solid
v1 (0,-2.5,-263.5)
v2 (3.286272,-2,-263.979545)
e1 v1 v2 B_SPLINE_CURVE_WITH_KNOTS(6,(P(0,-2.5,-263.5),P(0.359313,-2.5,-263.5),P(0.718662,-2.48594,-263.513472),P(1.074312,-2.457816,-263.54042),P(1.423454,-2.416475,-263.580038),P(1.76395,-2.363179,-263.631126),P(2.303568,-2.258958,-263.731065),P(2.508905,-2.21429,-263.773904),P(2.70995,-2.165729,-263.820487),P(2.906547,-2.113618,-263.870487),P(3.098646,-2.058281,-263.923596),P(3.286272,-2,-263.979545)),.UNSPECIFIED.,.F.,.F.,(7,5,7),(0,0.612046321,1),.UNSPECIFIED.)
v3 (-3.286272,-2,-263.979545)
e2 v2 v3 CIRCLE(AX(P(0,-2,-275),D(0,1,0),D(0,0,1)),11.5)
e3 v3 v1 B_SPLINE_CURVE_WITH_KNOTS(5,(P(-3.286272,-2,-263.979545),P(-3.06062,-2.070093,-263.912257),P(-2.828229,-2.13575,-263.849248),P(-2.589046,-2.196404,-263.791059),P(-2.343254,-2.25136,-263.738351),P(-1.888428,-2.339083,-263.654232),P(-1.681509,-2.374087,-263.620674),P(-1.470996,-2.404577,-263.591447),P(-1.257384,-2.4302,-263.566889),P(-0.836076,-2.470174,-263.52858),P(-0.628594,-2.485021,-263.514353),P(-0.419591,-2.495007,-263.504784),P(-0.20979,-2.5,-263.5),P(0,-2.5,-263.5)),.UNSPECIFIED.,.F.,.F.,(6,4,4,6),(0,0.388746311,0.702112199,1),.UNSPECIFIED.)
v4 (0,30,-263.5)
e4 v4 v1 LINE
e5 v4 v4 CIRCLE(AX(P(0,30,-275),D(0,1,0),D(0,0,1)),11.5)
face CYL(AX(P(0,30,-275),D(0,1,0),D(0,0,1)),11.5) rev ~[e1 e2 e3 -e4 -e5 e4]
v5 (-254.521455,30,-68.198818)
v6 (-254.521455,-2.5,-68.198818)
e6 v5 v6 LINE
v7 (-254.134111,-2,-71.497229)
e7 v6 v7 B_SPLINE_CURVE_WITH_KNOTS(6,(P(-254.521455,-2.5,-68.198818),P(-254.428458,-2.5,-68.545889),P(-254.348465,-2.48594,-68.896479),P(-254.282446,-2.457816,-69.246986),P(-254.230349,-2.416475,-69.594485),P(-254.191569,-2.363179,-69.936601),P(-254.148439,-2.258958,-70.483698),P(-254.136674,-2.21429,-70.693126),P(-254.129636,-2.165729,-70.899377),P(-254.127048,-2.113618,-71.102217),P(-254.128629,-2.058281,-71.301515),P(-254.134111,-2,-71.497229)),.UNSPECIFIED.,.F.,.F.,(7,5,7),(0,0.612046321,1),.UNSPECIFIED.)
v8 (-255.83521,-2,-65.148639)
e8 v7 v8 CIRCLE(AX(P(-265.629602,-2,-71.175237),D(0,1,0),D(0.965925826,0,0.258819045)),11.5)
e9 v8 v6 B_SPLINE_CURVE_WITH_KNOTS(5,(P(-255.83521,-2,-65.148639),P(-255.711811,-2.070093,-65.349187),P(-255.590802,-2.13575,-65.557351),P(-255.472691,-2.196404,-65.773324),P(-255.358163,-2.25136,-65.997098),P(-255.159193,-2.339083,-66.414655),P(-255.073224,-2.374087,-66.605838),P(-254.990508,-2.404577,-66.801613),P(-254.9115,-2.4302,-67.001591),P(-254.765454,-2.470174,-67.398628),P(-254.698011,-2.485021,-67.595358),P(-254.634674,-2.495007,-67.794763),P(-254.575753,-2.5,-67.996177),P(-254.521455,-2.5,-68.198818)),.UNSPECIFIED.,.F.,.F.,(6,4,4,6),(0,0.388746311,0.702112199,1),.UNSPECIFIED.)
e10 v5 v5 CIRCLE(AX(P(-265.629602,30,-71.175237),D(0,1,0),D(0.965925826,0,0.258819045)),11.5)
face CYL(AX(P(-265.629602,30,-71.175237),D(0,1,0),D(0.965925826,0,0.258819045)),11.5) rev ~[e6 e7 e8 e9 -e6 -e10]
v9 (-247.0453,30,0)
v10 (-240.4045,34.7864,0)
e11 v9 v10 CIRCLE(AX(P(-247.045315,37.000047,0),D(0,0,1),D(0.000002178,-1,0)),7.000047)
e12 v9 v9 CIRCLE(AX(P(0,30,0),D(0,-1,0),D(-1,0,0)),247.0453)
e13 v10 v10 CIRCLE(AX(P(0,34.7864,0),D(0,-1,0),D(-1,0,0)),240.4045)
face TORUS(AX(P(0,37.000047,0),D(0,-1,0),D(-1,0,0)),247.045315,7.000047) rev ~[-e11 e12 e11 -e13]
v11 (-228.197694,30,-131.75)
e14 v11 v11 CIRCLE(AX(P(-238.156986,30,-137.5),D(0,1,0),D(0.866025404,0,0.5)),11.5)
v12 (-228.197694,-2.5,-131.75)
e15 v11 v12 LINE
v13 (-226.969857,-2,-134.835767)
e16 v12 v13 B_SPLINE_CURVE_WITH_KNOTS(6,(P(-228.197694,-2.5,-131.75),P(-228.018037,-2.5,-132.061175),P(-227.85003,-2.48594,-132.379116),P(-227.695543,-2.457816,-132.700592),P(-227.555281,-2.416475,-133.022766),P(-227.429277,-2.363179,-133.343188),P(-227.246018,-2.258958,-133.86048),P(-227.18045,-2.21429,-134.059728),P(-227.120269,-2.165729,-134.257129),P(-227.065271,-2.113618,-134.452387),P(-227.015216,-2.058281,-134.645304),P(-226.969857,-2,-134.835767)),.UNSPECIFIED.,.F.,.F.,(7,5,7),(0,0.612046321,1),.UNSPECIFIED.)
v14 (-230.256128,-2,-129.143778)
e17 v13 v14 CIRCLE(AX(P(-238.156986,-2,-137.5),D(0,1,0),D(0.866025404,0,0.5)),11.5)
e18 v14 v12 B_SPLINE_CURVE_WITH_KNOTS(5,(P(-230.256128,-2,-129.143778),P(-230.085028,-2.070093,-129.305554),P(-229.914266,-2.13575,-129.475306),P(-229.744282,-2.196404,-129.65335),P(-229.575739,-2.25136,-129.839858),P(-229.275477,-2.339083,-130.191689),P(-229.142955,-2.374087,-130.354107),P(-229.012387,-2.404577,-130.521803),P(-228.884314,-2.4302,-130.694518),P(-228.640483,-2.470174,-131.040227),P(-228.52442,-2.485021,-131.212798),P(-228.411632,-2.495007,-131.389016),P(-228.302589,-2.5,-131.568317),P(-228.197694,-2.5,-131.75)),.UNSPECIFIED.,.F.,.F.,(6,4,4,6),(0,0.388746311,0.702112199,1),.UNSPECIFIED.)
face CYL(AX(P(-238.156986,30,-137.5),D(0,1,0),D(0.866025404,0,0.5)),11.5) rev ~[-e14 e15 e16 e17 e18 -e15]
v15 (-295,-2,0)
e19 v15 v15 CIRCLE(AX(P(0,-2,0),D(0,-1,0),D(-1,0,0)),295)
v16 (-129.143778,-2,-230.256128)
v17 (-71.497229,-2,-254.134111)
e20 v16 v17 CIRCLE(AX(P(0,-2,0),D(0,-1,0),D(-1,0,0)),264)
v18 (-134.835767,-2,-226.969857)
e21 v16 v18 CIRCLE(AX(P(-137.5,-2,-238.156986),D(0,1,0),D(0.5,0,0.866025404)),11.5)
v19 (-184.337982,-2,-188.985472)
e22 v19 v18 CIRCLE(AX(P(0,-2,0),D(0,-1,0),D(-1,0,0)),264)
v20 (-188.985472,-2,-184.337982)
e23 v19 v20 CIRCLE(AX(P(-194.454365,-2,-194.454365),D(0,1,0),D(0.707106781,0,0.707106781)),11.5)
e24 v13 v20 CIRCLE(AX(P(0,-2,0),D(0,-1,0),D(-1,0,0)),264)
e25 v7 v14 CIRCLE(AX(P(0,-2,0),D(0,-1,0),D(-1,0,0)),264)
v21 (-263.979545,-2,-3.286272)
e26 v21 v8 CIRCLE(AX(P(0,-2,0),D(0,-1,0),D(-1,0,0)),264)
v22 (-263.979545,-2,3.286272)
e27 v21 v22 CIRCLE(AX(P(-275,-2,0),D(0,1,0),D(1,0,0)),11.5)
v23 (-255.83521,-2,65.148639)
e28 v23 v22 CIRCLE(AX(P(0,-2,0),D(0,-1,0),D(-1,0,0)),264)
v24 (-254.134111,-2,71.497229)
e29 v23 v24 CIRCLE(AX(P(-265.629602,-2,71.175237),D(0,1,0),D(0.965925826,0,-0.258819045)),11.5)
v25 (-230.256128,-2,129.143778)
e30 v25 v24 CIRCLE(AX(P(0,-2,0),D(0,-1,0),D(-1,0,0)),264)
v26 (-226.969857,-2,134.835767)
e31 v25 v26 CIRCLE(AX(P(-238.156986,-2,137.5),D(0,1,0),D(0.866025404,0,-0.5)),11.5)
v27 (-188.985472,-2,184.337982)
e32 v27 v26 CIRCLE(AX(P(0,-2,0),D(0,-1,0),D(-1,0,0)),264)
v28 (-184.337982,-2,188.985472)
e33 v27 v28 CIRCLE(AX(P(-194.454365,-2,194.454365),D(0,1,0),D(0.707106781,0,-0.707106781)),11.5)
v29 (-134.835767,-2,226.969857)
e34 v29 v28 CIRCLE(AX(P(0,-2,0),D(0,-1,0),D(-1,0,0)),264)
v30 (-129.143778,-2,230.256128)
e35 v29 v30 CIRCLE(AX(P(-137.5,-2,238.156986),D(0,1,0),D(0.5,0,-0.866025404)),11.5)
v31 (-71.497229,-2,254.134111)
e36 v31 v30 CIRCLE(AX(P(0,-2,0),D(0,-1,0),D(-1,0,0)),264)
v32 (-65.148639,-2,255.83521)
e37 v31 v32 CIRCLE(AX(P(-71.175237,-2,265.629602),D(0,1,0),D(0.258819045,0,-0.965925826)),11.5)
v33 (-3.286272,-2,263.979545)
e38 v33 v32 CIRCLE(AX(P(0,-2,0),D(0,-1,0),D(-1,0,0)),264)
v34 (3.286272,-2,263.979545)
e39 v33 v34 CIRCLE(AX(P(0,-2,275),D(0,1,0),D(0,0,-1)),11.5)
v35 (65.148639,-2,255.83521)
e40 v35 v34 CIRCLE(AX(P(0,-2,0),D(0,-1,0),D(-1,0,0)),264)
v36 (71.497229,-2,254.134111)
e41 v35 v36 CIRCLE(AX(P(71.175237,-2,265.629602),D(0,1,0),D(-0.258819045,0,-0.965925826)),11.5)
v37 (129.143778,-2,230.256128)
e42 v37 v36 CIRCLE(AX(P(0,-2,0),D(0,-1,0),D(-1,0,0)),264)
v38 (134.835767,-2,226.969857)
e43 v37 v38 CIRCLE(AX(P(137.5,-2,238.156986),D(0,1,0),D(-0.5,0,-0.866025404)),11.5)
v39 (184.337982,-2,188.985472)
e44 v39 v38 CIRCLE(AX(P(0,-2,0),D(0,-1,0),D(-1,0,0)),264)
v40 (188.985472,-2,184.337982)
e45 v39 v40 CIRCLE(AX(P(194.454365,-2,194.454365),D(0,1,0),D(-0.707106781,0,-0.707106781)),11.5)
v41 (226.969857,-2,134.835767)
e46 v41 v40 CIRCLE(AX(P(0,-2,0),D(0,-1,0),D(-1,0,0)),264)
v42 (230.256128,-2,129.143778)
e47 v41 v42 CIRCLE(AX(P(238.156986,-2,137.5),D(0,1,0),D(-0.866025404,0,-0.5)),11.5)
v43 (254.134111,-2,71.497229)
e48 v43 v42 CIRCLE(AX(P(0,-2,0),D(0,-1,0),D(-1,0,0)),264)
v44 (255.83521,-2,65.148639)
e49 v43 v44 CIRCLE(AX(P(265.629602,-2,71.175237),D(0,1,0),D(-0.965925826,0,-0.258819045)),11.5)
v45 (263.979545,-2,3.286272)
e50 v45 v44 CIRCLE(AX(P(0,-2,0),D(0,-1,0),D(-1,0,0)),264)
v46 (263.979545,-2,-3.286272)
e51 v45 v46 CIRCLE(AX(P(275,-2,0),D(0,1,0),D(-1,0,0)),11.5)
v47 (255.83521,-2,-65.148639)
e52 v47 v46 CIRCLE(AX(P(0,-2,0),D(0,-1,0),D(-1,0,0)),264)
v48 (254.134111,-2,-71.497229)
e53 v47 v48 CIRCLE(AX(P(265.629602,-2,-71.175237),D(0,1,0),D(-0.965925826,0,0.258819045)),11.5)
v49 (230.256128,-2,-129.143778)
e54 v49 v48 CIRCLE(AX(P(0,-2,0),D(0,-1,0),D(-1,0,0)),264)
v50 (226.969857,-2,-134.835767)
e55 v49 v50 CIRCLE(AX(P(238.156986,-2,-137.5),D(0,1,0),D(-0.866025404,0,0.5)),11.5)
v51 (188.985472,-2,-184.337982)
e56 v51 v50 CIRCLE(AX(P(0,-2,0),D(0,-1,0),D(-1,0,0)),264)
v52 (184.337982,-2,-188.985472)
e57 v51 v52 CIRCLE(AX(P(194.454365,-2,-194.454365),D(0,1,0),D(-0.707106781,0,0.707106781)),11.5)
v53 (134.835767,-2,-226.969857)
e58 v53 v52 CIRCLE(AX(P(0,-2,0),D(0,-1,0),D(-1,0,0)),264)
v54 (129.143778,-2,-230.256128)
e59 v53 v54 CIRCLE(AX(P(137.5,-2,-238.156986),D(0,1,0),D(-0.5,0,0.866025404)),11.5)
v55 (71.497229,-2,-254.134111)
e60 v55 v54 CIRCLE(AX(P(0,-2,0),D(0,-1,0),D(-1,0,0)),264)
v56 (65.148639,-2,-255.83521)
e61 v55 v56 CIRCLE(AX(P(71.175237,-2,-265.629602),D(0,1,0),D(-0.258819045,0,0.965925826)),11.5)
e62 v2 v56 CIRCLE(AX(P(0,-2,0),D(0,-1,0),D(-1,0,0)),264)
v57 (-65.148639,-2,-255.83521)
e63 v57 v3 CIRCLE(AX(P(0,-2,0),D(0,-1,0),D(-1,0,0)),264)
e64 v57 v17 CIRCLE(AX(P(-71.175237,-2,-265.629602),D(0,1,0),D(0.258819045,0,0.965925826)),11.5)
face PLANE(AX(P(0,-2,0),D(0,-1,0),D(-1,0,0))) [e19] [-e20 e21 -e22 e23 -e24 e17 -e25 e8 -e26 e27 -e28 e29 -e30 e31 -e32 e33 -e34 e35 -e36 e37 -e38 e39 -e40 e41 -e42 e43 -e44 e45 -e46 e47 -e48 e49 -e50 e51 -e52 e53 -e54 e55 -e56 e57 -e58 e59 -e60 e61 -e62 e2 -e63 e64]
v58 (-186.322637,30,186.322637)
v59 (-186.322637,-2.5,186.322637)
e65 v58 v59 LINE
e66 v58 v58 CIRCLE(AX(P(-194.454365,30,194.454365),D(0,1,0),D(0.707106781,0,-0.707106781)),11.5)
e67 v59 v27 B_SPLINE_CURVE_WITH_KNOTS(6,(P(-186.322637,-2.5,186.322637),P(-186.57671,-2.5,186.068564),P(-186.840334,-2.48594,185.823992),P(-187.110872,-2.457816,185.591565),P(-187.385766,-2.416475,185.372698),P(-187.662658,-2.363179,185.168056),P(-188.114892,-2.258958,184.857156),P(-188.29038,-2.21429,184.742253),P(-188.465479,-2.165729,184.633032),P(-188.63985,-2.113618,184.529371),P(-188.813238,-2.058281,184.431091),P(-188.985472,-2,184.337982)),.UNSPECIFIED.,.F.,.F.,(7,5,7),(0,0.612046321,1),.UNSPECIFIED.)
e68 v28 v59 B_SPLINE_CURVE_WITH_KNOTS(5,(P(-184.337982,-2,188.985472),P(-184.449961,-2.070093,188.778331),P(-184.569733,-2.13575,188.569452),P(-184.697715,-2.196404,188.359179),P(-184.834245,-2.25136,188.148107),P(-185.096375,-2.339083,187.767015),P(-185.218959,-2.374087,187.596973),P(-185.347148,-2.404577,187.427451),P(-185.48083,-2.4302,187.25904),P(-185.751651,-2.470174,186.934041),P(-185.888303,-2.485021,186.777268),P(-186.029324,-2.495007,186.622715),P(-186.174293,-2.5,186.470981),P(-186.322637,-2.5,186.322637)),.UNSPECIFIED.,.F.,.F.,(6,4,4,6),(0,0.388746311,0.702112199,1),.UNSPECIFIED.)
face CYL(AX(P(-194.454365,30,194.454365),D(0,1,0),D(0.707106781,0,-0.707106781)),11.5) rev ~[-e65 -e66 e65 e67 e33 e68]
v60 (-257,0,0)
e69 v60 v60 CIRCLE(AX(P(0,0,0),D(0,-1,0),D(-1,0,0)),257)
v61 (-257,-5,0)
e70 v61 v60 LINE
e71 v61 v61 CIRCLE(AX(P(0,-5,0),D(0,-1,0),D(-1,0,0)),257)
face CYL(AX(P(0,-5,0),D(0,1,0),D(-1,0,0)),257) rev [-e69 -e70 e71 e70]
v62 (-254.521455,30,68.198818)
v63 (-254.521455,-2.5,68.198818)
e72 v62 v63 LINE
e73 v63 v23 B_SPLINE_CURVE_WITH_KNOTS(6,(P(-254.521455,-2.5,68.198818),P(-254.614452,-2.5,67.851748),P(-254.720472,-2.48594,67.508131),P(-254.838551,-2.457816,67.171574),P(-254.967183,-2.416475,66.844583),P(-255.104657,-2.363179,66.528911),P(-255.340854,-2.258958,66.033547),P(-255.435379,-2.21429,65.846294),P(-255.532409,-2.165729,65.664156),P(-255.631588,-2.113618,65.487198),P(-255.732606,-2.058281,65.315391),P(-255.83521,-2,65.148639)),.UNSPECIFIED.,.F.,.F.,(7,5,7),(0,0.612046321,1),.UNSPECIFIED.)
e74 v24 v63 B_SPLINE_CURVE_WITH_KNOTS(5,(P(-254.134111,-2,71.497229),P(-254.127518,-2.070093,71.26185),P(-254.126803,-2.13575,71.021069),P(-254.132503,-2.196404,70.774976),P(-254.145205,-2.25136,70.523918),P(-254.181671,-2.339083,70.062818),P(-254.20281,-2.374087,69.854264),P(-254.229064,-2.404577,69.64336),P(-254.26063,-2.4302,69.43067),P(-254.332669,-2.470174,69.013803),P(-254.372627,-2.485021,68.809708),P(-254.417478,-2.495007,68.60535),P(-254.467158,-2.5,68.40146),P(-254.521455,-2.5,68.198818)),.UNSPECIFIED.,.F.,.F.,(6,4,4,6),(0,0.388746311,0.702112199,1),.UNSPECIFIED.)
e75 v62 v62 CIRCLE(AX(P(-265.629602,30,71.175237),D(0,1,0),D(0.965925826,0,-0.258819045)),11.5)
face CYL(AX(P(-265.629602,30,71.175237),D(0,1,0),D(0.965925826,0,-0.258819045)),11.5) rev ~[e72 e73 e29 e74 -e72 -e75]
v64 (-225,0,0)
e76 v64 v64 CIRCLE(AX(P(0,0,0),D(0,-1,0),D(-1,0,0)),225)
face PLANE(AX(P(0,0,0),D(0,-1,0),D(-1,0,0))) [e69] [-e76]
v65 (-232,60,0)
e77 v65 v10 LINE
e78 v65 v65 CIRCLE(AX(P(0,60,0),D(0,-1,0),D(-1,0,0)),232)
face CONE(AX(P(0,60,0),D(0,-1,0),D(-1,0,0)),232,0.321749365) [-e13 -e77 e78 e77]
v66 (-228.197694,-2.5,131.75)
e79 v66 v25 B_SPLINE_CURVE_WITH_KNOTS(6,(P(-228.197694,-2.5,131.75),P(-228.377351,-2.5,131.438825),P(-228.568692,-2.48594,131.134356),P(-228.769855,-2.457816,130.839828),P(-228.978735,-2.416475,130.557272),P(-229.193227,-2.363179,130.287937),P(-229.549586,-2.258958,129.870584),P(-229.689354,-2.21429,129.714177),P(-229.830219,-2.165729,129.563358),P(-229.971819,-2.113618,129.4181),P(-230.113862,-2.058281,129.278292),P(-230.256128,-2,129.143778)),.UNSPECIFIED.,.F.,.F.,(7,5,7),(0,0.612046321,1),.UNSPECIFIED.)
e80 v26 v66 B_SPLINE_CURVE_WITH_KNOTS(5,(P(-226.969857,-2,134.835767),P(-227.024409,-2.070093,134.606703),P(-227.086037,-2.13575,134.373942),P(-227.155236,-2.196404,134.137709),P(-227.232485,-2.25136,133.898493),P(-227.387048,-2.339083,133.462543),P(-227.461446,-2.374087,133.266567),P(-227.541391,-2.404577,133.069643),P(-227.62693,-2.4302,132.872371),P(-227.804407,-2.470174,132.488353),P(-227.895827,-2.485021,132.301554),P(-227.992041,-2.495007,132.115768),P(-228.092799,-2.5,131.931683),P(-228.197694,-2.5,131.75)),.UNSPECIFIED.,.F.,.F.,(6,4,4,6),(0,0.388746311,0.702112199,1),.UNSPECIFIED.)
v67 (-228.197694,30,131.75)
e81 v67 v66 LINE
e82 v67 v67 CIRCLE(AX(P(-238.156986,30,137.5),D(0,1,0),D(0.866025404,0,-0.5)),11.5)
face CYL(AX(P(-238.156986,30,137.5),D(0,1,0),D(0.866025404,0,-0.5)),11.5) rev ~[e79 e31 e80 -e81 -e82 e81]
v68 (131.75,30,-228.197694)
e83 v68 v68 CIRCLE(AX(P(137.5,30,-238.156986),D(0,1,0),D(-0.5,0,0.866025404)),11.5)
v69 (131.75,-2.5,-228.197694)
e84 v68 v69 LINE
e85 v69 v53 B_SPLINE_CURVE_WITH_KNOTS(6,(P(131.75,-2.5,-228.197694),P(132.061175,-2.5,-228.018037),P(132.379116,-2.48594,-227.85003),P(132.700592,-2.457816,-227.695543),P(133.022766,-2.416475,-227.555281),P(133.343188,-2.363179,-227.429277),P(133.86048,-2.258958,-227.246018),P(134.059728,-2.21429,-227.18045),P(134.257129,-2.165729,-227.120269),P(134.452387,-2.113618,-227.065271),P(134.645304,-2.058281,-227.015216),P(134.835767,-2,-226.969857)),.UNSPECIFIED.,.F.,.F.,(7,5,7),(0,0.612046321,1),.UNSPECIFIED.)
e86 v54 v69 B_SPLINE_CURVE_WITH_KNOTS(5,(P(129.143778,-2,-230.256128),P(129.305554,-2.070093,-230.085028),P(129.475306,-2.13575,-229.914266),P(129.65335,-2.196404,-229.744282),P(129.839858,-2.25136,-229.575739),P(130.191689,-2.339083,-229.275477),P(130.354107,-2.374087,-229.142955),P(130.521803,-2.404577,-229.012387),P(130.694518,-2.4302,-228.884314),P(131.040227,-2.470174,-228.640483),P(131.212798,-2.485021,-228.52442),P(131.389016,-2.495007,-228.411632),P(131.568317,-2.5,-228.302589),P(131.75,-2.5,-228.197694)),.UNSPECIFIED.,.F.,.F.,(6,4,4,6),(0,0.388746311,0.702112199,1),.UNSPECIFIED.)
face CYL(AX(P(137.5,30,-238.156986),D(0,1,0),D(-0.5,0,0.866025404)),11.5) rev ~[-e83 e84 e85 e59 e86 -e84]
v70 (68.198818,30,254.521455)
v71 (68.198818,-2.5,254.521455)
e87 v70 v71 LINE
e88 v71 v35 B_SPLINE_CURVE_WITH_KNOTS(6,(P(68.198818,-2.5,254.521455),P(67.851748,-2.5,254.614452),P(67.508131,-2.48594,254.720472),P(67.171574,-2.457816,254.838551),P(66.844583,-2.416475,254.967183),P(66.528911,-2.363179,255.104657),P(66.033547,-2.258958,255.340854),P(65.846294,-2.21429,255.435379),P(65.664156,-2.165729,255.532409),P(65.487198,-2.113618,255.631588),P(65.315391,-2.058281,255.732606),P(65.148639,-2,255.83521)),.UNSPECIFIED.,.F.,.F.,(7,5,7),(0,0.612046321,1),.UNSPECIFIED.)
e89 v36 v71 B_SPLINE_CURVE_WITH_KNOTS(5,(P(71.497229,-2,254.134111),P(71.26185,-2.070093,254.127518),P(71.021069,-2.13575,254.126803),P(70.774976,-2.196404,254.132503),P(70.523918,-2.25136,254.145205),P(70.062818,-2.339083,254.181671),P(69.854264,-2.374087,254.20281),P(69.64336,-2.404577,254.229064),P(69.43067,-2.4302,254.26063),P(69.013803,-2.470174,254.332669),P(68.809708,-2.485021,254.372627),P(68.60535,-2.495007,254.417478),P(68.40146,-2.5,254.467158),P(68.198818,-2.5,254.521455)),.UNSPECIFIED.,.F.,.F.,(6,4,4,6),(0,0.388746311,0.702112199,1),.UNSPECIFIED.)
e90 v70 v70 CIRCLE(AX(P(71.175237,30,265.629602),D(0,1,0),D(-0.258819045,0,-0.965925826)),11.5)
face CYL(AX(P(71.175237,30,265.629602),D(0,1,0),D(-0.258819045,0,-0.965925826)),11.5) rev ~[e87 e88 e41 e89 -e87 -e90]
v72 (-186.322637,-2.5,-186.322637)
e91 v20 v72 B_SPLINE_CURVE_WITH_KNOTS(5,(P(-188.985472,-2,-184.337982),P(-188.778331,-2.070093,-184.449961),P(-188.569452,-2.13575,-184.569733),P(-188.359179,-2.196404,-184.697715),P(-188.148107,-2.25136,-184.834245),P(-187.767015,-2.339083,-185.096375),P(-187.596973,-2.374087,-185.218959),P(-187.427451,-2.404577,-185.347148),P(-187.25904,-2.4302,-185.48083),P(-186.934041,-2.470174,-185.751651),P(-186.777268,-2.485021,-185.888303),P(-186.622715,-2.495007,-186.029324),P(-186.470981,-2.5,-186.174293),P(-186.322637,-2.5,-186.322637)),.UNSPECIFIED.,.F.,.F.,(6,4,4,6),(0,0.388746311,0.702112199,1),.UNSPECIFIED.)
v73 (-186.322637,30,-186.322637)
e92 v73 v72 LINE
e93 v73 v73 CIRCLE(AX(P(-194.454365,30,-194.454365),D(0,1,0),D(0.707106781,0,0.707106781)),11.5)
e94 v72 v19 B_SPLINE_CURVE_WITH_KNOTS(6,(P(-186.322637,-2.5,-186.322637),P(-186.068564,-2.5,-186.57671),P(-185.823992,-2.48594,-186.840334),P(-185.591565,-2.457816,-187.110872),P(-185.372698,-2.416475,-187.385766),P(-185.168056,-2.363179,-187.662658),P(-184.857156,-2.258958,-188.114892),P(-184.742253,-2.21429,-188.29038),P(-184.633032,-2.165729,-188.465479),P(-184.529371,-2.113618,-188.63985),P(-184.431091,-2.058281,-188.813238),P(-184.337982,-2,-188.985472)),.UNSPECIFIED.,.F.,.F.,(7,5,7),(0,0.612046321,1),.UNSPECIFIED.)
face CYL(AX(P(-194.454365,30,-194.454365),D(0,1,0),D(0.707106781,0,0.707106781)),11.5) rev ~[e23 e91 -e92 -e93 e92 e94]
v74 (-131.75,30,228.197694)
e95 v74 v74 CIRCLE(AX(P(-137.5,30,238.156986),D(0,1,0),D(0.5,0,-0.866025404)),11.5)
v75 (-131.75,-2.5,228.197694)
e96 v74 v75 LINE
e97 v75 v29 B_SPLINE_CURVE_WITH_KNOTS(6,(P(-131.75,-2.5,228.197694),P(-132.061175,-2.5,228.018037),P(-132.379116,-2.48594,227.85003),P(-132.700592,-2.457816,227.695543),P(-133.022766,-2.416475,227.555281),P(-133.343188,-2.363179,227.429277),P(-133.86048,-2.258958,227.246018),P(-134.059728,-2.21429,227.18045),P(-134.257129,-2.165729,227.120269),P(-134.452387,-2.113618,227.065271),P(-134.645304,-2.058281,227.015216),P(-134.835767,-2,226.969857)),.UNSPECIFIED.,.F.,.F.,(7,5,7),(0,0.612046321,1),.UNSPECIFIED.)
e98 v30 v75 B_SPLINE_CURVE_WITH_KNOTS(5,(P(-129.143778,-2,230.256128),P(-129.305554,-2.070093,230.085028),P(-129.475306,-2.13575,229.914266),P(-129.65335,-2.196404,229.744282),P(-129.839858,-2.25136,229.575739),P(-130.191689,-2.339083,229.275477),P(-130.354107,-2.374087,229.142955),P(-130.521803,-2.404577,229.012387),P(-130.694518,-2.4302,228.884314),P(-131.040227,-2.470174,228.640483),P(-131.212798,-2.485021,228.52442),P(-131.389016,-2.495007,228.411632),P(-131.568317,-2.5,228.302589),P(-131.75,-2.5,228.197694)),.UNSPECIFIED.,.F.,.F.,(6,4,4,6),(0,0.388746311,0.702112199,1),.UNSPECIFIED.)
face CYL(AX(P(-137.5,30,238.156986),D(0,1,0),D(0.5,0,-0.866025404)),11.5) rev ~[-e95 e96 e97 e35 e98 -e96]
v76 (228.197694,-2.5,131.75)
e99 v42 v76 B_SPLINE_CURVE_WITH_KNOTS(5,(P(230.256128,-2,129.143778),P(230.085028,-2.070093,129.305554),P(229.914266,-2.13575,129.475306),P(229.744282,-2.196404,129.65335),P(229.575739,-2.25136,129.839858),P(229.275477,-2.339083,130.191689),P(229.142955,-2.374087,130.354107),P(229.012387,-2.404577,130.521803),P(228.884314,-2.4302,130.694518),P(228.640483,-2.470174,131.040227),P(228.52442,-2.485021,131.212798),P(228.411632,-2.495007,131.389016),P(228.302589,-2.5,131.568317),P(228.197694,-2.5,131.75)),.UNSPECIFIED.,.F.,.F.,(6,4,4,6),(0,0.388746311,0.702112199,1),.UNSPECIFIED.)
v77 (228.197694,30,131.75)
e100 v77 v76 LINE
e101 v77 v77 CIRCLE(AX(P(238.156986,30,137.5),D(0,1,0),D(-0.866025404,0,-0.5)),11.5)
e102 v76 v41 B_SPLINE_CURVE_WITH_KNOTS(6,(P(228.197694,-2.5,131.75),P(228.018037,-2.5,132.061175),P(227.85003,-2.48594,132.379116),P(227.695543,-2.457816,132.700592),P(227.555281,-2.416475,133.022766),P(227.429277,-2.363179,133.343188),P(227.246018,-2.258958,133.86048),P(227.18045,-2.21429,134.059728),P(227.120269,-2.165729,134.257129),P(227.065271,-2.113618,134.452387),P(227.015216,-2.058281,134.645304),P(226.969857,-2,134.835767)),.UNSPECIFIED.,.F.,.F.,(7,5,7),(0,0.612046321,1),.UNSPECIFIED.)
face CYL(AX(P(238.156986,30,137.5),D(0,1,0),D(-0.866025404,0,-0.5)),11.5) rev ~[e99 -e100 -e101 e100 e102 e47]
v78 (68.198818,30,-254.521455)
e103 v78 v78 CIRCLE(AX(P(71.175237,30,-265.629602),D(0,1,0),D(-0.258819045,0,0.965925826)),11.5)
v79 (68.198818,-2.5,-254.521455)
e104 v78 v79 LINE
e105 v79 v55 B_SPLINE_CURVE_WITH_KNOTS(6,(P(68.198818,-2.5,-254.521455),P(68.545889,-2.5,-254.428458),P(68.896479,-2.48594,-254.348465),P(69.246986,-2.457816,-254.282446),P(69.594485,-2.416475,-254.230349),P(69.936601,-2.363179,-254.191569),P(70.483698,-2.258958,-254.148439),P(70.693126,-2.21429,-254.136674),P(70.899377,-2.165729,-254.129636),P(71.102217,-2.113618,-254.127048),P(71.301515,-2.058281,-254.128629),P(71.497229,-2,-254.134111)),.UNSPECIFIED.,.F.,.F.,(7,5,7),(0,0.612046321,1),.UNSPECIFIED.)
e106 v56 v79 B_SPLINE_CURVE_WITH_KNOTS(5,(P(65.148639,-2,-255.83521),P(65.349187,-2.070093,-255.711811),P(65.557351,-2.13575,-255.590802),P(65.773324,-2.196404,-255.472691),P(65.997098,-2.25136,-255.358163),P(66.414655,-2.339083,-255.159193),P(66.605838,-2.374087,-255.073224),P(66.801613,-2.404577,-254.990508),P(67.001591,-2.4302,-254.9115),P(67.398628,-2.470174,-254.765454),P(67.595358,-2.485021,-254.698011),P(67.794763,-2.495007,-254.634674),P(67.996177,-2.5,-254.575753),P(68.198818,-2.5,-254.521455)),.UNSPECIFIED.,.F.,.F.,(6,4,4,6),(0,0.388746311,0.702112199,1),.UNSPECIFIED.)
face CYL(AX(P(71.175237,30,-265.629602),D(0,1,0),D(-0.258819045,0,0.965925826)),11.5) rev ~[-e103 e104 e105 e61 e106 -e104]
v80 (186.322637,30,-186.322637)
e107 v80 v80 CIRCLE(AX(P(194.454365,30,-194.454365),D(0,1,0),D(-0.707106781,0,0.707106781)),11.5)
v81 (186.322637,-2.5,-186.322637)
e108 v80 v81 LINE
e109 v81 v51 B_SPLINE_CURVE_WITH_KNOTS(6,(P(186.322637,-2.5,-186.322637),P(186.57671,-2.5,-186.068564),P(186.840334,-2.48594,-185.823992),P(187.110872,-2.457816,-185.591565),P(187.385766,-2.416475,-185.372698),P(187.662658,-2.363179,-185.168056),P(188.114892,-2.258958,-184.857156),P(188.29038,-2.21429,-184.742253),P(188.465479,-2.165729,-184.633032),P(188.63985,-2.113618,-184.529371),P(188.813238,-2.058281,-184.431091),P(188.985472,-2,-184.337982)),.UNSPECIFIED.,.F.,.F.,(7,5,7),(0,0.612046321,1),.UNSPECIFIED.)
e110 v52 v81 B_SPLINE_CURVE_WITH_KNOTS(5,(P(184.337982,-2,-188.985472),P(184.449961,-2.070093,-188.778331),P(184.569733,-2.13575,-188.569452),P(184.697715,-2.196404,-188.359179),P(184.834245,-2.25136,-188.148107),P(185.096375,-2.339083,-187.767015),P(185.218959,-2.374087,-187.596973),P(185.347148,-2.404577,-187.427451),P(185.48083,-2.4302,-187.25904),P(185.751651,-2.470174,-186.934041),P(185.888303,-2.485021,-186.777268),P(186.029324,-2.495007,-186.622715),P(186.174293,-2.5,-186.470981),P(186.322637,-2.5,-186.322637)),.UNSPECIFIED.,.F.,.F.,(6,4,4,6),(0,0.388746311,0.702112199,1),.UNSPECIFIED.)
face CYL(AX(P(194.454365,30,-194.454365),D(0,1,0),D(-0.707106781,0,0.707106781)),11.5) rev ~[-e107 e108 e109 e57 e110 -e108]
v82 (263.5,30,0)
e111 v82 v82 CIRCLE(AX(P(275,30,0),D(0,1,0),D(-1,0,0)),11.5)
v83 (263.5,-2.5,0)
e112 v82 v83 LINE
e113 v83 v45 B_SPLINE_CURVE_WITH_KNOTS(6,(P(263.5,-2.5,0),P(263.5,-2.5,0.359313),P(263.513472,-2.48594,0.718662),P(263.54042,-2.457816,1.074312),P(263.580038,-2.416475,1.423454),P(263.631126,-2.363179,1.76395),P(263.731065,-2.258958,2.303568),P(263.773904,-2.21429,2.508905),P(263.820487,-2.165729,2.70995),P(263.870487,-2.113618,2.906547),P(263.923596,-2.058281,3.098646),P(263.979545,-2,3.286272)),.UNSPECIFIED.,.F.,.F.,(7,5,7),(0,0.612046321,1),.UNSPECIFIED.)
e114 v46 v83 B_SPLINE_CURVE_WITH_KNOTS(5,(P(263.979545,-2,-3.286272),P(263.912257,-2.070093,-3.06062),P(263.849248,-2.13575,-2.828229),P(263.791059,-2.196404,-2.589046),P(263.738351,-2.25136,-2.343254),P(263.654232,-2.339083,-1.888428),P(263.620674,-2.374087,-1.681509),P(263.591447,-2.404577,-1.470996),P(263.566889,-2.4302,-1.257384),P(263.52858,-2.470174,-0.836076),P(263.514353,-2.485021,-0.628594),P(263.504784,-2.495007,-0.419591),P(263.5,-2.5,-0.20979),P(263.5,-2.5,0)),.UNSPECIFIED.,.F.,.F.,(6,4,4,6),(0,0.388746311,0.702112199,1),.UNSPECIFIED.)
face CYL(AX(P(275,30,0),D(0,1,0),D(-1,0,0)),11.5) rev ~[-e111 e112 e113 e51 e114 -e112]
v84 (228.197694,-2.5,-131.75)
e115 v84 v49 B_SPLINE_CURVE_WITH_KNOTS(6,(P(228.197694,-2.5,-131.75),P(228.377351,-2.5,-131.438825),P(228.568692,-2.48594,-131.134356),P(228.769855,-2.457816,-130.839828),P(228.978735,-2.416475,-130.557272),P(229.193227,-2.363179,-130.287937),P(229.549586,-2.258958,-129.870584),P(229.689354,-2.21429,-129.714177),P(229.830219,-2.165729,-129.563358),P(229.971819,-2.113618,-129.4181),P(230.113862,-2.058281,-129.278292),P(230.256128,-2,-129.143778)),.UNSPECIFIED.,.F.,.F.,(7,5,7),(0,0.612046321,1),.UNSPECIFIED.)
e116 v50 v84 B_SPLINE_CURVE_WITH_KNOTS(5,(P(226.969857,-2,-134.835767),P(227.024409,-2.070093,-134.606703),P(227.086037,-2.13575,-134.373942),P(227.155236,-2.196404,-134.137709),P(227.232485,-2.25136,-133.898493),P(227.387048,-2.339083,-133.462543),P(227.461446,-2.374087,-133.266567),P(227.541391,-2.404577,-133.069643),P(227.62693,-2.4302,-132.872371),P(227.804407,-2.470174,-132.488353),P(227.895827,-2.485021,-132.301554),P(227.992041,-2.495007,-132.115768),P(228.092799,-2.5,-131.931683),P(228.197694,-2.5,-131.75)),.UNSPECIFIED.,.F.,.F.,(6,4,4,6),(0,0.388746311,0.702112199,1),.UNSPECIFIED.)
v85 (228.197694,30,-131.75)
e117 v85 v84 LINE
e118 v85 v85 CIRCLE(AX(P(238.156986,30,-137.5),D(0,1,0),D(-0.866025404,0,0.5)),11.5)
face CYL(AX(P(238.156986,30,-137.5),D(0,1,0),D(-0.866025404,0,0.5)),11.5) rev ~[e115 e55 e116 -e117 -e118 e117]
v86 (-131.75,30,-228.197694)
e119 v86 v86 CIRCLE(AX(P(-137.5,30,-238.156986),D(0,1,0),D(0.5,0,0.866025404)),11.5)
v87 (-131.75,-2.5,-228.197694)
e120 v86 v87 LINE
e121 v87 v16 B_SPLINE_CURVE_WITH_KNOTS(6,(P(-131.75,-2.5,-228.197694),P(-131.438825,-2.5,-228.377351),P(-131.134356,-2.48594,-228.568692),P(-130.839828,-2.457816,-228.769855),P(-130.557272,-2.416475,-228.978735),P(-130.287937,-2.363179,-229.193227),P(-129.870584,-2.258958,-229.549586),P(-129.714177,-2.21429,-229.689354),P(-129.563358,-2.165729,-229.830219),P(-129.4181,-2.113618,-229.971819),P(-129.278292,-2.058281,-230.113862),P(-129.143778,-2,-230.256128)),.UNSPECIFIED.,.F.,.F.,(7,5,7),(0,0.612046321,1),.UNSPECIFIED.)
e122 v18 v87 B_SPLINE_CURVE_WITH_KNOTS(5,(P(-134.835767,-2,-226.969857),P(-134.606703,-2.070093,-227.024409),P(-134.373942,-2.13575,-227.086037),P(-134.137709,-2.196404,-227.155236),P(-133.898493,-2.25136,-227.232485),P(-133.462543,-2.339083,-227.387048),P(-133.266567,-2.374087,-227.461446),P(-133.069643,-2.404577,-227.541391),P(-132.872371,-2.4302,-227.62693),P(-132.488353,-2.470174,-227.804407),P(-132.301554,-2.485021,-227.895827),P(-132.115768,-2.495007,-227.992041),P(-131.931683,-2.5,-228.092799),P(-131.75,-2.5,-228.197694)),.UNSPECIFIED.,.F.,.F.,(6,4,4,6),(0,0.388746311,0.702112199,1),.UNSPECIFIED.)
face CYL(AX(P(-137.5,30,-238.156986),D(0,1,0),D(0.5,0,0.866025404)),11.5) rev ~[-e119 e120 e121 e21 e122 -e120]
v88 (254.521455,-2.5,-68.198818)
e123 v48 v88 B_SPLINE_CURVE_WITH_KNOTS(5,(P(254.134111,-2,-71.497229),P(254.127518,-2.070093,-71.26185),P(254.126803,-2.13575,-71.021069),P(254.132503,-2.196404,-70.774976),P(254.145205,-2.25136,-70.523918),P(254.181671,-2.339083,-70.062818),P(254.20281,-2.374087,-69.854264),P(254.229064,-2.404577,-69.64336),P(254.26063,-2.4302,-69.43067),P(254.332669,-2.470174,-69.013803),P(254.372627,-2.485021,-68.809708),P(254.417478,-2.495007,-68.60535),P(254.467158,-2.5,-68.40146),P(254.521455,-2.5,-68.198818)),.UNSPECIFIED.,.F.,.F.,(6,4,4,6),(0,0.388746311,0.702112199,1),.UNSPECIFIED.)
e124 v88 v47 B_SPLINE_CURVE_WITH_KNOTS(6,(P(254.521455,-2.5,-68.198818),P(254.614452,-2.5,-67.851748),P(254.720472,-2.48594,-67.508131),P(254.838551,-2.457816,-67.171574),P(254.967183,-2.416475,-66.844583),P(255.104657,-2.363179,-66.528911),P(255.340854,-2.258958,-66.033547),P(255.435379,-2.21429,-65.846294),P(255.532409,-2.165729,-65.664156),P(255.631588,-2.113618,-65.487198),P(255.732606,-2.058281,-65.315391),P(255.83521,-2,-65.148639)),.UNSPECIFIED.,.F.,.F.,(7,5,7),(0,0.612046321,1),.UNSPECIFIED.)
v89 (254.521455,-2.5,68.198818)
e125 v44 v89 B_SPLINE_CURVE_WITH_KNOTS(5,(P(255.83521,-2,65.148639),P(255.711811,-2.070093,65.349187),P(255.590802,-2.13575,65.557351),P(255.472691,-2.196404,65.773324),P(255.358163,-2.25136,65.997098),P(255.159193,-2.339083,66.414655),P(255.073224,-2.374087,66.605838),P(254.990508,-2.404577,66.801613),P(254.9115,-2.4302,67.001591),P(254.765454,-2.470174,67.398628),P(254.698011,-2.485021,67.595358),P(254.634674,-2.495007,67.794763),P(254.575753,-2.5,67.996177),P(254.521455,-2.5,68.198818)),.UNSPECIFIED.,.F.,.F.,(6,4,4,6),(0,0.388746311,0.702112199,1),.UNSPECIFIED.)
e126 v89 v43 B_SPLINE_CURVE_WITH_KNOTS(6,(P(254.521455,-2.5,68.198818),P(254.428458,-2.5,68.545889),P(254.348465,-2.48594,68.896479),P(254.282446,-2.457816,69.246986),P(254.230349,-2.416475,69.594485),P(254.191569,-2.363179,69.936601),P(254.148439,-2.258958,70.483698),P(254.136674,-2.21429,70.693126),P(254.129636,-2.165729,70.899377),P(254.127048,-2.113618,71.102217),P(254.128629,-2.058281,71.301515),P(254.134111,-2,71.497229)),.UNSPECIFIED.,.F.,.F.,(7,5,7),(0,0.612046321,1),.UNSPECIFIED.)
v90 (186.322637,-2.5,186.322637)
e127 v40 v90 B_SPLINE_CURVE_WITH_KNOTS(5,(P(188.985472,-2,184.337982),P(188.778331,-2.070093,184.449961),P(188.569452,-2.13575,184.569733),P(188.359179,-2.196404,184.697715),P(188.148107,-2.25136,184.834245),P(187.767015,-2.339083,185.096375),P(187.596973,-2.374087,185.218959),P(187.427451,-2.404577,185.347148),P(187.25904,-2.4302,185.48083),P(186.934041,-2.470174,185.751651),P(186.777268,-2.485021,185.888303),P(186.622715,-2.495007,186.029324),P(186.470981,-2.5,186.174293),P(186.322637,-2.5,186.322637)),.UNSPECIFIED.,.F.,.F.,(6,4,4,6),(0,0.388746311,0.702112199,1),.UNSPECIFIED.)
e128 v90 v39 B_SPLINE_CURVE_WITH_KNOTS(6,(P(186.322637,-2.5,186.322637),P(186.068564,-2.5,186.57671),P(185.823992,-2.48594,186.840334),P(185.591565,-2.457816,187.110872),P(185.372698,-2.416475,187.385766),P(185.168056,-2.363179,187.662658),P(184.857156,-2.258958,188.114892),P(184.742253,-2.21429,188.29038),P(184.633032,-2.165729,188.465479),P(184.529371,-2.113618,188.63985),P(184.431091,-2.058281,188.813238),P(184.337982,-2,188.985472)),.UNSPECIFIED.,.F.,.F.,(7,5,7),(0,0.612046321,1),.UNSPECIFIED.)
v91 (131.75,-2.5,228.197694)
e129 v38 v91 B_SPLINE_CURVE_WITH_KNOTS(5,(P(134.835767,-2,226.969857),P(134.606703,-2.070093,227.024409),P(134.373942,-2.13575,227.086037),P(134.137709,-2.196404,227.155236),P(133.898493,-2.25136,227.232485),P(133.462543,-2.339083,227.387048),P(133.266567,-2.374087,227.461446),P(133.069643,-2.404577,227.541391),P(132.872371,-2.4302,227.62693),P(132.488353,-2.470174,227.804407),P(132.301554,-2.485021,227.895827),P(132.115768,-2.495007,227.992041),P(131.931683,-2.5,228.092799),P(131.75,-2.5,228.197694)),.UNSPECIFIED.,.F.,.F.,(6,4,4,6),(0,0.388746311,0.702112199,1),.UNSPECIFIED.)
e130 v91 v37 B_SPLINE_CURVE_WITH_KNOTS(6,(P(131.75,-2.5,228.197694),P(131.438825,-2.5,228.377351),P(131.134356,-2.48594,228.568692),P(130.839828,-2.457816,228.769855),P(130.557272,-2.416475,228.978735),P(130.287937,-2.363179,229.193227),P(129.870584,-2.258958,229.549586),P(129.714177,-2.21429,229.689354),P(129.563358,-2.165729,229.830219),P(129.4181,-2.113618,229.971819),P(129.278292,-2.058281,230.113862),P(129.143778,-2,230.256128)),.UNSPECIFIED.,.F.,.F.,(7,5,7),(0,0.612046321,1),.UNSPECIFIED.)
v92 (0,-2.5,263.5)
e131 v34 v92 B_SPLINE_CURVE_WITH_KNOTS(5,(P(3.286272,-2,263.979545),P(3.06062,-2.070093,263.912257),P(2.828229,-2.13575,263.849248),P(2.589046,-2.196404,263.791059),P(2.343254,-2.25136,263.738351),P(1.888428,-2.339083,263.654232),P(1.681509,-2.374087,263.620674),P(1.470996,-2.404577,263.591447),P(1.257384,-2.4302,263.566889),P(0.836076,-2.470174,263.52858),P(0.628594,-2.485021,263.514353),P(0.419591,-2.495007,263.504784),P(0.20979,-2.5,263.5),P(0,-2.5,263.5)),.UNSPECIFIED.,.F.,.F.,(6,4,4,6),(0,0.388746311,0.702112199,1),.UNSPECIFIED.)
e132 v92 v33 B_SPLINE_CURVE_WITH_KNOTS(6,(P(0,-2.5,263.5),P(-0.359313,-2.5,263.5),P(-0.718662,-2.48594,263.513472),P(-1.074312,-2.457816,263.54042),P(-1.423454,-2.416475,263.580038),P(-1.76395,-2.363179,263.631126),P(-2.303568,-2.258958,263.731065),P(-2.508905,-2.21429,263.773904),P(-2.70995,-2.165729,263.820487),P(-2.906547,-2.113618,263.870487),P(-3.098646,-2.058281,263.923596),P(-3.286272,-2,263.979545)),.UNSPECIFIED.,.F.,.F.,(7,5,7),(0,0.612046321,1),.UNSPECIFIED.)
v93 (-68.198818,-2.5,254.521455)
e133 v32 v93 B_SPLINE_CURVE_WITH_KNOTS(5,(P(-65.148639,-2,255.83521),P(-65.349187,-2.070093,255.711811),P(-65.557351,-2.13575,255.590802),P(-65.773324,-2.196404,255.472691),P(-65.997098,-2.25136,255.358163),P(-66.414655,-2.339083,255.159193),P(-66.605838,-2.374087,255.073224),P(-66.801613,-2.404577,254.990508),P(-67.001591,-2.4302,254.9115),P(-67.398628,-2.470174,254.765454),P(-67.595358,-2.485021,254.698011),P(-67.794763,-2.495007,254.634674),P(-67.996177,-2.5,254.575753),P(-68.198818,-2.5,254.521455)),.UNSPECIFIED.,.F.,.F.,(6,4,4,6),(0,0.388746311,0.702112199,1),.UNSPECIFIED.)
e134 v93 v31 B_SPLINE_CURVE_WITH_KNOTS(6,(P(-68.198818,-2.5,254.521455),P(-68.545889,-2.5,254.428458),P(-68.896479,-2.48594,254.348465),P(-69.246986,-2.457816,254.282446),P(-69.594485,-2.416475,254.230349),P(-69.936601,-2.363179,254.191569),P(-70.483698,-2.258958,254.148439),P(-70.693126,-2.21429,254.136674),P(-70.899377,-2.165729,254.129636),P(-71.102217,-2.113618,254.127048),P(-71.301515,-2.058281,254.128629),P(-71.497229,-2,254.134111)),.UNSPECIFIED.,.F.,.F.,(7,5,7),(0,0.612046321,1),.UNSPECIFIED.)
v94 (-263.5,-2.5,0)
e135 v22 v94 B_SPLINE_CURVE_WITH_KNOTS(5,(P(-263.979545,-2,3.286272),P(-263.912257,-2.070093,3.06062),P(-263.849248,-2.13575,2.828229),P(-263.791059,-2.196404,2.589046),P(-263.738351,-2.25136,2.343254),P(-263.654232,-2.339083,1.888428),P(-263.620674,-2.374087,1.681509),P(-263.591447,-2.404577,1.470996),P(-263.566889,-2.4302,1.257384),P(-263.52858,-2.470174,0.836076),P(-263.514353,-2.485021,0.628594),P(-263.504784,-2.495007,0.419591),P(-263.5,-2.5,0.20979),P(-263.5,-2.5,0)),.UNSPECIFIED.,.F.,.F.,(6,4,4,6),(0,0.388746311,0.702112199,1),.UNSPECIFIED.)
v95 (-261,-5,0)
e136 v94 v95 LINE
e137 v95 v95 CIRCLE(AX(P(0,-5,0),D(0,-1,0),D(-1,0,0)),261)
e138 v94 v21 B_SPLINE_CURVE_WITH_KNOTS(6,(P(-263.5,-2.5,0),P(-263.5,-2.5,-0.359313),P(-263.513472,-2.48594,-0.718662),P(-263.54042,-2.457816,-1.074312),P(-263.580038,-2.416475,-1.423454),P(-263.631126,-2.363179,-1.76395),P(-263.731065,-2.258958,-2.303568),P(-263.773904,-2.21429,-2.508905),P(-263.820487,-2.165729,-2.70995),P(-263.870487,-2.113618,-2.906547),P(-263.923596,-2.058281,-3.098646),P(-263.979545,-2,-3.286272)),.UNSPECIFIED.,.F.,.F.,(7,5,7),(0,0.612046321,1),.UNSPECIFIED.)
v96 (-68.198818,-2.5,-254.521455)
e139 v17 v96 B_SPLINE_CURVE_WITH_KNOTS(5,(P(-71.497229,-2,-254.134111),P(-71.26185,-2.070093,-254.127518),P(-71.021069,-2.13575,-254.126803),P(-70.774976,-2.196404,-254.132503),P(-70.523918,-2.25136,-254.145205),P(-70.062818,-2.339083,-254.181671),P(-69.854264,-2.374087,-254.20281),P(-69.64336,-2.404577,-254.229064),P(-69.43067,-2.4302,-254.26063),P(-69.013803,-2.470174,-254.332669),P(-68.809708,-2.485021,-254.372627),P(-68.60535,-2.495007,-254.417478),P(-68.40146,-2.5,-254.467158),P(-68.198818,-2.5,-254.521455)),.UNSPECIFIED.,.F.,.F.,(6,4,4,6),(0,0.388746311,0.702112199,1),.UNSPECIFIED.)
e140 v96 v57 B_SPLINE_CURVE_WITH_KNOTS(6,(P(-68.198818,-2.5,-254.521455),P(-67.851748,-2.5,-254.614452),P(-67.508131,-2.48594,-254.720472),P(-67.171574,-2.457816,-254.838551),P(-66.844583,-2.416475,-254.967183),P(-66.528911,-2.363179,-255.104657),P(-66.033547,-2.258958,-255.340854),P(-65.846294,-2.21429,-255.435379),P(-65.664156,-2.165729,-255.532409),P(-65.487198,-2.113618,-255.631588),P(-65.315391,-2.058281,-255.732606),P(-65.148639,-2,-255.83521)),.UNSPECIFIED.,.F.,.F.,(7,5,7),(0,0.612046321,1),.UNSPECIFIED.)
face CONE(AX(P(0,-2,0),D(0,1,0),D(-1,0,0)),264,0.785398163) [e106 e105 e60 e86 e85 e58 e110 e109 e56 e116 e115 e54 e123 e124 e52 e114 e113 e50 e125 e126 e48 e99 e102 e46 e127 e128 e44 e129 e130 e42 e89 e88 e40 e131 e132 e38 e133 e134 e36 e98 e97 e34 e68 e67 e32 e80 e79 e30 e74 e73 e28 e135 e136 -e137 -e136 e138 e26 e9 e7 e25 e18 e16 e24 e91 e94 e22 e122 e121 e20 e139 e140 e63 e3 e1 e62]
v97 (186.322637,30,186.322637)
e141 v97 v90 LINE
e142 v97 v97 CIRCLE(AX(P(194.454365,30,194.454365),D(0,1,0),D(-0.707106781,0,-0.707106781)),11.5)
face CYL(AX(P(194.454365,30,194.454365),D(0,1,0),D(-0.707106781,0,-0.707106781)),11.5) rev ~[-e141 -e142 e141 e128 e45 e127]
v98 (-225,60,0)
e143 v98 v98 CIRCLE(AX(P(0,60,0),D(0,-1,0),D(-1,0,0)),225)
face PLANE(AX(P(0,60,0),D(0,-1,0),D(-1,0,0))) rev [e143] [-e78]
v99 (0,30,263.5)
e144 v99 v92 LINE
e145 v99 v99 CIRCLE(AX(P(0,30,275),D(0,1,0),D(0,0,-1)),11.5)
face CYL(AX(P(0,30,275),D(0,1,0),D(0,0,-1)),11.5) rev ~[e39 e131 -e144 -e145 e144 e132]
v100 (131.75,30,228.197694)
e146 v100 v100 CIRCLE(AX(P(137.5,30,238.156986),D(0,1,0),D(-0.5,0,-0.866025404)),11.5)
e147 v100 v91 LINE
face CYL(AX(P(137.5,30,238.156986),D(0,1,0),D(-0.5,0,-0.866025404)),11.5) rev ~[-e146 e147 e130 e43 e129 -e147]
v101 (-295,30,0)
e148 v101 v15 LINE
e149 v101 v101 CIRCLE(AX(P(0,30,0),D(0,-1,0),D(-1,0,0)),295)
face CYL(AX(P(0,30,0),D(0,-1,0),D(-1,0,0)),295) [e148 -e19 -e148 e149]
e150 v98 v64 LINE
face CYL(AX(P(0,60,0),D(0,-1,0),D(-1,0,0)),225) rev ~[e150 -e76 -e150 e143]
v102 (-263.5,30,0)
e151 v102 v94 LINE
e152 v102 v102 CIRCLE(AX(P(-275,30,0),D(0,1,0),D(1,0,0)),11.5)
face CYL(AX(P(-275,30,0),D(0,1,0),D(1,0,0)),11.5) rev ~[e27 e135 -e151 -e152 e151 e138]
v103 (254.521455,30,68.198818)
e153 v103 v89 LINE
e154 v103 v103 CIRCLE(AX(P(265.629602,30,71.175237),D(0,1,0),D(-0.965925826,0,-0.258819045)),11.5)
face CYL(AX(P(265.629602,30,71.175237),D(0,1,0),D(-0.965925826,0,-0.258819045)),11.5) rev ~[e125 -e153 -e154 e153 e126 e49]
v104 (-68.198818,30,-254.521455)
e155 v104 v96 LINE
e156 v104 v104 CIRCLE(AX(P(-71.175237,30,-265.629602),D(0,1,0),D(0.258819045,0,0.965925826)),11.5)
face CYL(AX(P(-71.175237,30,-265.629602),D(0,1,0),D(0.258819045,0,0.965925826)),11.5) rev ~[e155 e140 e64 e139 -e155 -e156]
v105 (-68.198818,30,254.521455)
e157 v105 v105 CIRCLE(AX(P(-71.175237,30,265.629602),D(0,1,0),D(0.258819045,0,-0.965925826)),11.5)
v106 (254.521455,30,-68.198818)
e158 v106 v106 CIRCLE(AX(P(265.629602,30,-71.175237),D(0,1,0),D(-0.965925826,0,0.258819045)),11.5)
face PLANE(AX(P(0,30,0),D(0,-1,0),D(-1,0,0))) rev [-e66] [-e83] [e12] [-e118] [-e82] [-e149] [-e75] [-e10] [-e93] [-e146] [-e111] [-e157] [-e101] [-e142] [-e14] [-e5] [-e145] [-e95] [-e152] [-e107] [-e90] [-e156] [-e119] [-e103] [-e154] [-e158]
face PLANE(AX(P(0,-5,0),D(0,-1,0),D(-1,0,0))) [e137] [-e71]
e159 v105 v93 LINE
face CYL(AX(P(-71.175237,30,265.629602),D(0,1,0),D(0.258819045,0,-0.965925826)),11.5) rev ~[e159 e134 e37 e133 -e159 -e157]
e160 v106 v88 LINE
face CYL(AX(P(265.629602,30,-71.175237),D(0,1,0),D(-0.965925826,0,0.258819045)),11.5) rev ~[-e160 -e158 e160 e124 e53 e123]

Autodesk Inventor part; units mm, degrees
ref_plane "YZ Plane" through (0, 0, 0) normal (1, 0, 0) x (0, 1, 0)
ref_plane "XZ Plane" through (0, 0, 0) normal (0, 1, 0) x (-1, 0, 0)
ref_plane "XY Plane" through (0, 0, 0) normal (0, 0, 1) x (1, 0, 0)
sketch "Sketch1" plane through (0, 0, 0) normal (0, 0, 1) x (1, 0, 0)
  line L0 (0, 75.0452) -> (0, -65.413)
  line L1 (-225, 60) -> (-232, 60)
  line L2 (-232, 60) -> (-240.4045, 34.7864)
  line L3 (-247.0453, 30) -> (-295, 30)
  line L4 (-295, 30) -> (-295, -2)
  line L5 (-295, -2) -> (-264, -2)
  line L6 (-264, -2) -> (-261, -5)
  line L7 (-261, -5) -> (-257, -5)
  line L8 (-257, -5) -> (-257, 0)
  line L9 (-257, 0) -> (-225, 0)
  line L10 (-225, 60) -> (-225, 0)
  arc A0 (-247.0453, 30) -> (-240.4045, 34.7864) centre (-247.0453, 37) ccw
  point P0 (0, 0)
  dimension "d0" = 590
  dimension "d1" = 450
  dimension "d2" = 522
  dimension "d3" = 514
  dimension "d4" = 5
  dimension "d7" = 35
  dimension "d8" = 45
  dimension "d9" = 65
  dimension "d10" = 3
  dimension "d14" = 18.435
  dimension "d15" = 464
  dimension "d16" = 7
revolve "Revolution1" add sketch "Sketch1" angle 360 about axis through (0, 75.0452, 0) along (0, -1, 0)
sketch "Sketch2" plane through (0, 30, 0) normal (0, 1, 0) x (1, 0, 0)
  circle A0 centre (-275, 0) radius 11.5
  point P0 (0, 0)
  dimension "d25" = 23
  dimension "d26" = 275
extrude "Extrusion1" cut sketch "Sketch2" against normal through all
pattern_circular "Circular Pattern1" count 24 over 360 about axis through (0, 14, 0) along (0, 1, 0) of "Extrusion1"
equation "\"d25\" = d_"
equation "\"d26\" = 0.5 * D2_"
equation "\"d0\" = D1_"
equation "\"d1\" = D"
equation "\"d2\" = D4_"
equation "\"d3\" = D3_"
equation "\"d7\" = b"
equation "\"d9\" = H_"
equation "\"d15\" = D6_"
equation "\"D\" = 450"
equation "\"D1_\" = 590"
equation "\"D3_\" = 514"
equation "\"D4_\" = 522"
equation "\"D6_\" = 464"
equation "\"b\" = 35"
equation "\"H_\" = 65"
equation "\"d_\" = 23"
equation "\"D2_\" = 550"
properties part number "Flange 1-450-1,0 GOST 28759.3-90" material "Steel"
